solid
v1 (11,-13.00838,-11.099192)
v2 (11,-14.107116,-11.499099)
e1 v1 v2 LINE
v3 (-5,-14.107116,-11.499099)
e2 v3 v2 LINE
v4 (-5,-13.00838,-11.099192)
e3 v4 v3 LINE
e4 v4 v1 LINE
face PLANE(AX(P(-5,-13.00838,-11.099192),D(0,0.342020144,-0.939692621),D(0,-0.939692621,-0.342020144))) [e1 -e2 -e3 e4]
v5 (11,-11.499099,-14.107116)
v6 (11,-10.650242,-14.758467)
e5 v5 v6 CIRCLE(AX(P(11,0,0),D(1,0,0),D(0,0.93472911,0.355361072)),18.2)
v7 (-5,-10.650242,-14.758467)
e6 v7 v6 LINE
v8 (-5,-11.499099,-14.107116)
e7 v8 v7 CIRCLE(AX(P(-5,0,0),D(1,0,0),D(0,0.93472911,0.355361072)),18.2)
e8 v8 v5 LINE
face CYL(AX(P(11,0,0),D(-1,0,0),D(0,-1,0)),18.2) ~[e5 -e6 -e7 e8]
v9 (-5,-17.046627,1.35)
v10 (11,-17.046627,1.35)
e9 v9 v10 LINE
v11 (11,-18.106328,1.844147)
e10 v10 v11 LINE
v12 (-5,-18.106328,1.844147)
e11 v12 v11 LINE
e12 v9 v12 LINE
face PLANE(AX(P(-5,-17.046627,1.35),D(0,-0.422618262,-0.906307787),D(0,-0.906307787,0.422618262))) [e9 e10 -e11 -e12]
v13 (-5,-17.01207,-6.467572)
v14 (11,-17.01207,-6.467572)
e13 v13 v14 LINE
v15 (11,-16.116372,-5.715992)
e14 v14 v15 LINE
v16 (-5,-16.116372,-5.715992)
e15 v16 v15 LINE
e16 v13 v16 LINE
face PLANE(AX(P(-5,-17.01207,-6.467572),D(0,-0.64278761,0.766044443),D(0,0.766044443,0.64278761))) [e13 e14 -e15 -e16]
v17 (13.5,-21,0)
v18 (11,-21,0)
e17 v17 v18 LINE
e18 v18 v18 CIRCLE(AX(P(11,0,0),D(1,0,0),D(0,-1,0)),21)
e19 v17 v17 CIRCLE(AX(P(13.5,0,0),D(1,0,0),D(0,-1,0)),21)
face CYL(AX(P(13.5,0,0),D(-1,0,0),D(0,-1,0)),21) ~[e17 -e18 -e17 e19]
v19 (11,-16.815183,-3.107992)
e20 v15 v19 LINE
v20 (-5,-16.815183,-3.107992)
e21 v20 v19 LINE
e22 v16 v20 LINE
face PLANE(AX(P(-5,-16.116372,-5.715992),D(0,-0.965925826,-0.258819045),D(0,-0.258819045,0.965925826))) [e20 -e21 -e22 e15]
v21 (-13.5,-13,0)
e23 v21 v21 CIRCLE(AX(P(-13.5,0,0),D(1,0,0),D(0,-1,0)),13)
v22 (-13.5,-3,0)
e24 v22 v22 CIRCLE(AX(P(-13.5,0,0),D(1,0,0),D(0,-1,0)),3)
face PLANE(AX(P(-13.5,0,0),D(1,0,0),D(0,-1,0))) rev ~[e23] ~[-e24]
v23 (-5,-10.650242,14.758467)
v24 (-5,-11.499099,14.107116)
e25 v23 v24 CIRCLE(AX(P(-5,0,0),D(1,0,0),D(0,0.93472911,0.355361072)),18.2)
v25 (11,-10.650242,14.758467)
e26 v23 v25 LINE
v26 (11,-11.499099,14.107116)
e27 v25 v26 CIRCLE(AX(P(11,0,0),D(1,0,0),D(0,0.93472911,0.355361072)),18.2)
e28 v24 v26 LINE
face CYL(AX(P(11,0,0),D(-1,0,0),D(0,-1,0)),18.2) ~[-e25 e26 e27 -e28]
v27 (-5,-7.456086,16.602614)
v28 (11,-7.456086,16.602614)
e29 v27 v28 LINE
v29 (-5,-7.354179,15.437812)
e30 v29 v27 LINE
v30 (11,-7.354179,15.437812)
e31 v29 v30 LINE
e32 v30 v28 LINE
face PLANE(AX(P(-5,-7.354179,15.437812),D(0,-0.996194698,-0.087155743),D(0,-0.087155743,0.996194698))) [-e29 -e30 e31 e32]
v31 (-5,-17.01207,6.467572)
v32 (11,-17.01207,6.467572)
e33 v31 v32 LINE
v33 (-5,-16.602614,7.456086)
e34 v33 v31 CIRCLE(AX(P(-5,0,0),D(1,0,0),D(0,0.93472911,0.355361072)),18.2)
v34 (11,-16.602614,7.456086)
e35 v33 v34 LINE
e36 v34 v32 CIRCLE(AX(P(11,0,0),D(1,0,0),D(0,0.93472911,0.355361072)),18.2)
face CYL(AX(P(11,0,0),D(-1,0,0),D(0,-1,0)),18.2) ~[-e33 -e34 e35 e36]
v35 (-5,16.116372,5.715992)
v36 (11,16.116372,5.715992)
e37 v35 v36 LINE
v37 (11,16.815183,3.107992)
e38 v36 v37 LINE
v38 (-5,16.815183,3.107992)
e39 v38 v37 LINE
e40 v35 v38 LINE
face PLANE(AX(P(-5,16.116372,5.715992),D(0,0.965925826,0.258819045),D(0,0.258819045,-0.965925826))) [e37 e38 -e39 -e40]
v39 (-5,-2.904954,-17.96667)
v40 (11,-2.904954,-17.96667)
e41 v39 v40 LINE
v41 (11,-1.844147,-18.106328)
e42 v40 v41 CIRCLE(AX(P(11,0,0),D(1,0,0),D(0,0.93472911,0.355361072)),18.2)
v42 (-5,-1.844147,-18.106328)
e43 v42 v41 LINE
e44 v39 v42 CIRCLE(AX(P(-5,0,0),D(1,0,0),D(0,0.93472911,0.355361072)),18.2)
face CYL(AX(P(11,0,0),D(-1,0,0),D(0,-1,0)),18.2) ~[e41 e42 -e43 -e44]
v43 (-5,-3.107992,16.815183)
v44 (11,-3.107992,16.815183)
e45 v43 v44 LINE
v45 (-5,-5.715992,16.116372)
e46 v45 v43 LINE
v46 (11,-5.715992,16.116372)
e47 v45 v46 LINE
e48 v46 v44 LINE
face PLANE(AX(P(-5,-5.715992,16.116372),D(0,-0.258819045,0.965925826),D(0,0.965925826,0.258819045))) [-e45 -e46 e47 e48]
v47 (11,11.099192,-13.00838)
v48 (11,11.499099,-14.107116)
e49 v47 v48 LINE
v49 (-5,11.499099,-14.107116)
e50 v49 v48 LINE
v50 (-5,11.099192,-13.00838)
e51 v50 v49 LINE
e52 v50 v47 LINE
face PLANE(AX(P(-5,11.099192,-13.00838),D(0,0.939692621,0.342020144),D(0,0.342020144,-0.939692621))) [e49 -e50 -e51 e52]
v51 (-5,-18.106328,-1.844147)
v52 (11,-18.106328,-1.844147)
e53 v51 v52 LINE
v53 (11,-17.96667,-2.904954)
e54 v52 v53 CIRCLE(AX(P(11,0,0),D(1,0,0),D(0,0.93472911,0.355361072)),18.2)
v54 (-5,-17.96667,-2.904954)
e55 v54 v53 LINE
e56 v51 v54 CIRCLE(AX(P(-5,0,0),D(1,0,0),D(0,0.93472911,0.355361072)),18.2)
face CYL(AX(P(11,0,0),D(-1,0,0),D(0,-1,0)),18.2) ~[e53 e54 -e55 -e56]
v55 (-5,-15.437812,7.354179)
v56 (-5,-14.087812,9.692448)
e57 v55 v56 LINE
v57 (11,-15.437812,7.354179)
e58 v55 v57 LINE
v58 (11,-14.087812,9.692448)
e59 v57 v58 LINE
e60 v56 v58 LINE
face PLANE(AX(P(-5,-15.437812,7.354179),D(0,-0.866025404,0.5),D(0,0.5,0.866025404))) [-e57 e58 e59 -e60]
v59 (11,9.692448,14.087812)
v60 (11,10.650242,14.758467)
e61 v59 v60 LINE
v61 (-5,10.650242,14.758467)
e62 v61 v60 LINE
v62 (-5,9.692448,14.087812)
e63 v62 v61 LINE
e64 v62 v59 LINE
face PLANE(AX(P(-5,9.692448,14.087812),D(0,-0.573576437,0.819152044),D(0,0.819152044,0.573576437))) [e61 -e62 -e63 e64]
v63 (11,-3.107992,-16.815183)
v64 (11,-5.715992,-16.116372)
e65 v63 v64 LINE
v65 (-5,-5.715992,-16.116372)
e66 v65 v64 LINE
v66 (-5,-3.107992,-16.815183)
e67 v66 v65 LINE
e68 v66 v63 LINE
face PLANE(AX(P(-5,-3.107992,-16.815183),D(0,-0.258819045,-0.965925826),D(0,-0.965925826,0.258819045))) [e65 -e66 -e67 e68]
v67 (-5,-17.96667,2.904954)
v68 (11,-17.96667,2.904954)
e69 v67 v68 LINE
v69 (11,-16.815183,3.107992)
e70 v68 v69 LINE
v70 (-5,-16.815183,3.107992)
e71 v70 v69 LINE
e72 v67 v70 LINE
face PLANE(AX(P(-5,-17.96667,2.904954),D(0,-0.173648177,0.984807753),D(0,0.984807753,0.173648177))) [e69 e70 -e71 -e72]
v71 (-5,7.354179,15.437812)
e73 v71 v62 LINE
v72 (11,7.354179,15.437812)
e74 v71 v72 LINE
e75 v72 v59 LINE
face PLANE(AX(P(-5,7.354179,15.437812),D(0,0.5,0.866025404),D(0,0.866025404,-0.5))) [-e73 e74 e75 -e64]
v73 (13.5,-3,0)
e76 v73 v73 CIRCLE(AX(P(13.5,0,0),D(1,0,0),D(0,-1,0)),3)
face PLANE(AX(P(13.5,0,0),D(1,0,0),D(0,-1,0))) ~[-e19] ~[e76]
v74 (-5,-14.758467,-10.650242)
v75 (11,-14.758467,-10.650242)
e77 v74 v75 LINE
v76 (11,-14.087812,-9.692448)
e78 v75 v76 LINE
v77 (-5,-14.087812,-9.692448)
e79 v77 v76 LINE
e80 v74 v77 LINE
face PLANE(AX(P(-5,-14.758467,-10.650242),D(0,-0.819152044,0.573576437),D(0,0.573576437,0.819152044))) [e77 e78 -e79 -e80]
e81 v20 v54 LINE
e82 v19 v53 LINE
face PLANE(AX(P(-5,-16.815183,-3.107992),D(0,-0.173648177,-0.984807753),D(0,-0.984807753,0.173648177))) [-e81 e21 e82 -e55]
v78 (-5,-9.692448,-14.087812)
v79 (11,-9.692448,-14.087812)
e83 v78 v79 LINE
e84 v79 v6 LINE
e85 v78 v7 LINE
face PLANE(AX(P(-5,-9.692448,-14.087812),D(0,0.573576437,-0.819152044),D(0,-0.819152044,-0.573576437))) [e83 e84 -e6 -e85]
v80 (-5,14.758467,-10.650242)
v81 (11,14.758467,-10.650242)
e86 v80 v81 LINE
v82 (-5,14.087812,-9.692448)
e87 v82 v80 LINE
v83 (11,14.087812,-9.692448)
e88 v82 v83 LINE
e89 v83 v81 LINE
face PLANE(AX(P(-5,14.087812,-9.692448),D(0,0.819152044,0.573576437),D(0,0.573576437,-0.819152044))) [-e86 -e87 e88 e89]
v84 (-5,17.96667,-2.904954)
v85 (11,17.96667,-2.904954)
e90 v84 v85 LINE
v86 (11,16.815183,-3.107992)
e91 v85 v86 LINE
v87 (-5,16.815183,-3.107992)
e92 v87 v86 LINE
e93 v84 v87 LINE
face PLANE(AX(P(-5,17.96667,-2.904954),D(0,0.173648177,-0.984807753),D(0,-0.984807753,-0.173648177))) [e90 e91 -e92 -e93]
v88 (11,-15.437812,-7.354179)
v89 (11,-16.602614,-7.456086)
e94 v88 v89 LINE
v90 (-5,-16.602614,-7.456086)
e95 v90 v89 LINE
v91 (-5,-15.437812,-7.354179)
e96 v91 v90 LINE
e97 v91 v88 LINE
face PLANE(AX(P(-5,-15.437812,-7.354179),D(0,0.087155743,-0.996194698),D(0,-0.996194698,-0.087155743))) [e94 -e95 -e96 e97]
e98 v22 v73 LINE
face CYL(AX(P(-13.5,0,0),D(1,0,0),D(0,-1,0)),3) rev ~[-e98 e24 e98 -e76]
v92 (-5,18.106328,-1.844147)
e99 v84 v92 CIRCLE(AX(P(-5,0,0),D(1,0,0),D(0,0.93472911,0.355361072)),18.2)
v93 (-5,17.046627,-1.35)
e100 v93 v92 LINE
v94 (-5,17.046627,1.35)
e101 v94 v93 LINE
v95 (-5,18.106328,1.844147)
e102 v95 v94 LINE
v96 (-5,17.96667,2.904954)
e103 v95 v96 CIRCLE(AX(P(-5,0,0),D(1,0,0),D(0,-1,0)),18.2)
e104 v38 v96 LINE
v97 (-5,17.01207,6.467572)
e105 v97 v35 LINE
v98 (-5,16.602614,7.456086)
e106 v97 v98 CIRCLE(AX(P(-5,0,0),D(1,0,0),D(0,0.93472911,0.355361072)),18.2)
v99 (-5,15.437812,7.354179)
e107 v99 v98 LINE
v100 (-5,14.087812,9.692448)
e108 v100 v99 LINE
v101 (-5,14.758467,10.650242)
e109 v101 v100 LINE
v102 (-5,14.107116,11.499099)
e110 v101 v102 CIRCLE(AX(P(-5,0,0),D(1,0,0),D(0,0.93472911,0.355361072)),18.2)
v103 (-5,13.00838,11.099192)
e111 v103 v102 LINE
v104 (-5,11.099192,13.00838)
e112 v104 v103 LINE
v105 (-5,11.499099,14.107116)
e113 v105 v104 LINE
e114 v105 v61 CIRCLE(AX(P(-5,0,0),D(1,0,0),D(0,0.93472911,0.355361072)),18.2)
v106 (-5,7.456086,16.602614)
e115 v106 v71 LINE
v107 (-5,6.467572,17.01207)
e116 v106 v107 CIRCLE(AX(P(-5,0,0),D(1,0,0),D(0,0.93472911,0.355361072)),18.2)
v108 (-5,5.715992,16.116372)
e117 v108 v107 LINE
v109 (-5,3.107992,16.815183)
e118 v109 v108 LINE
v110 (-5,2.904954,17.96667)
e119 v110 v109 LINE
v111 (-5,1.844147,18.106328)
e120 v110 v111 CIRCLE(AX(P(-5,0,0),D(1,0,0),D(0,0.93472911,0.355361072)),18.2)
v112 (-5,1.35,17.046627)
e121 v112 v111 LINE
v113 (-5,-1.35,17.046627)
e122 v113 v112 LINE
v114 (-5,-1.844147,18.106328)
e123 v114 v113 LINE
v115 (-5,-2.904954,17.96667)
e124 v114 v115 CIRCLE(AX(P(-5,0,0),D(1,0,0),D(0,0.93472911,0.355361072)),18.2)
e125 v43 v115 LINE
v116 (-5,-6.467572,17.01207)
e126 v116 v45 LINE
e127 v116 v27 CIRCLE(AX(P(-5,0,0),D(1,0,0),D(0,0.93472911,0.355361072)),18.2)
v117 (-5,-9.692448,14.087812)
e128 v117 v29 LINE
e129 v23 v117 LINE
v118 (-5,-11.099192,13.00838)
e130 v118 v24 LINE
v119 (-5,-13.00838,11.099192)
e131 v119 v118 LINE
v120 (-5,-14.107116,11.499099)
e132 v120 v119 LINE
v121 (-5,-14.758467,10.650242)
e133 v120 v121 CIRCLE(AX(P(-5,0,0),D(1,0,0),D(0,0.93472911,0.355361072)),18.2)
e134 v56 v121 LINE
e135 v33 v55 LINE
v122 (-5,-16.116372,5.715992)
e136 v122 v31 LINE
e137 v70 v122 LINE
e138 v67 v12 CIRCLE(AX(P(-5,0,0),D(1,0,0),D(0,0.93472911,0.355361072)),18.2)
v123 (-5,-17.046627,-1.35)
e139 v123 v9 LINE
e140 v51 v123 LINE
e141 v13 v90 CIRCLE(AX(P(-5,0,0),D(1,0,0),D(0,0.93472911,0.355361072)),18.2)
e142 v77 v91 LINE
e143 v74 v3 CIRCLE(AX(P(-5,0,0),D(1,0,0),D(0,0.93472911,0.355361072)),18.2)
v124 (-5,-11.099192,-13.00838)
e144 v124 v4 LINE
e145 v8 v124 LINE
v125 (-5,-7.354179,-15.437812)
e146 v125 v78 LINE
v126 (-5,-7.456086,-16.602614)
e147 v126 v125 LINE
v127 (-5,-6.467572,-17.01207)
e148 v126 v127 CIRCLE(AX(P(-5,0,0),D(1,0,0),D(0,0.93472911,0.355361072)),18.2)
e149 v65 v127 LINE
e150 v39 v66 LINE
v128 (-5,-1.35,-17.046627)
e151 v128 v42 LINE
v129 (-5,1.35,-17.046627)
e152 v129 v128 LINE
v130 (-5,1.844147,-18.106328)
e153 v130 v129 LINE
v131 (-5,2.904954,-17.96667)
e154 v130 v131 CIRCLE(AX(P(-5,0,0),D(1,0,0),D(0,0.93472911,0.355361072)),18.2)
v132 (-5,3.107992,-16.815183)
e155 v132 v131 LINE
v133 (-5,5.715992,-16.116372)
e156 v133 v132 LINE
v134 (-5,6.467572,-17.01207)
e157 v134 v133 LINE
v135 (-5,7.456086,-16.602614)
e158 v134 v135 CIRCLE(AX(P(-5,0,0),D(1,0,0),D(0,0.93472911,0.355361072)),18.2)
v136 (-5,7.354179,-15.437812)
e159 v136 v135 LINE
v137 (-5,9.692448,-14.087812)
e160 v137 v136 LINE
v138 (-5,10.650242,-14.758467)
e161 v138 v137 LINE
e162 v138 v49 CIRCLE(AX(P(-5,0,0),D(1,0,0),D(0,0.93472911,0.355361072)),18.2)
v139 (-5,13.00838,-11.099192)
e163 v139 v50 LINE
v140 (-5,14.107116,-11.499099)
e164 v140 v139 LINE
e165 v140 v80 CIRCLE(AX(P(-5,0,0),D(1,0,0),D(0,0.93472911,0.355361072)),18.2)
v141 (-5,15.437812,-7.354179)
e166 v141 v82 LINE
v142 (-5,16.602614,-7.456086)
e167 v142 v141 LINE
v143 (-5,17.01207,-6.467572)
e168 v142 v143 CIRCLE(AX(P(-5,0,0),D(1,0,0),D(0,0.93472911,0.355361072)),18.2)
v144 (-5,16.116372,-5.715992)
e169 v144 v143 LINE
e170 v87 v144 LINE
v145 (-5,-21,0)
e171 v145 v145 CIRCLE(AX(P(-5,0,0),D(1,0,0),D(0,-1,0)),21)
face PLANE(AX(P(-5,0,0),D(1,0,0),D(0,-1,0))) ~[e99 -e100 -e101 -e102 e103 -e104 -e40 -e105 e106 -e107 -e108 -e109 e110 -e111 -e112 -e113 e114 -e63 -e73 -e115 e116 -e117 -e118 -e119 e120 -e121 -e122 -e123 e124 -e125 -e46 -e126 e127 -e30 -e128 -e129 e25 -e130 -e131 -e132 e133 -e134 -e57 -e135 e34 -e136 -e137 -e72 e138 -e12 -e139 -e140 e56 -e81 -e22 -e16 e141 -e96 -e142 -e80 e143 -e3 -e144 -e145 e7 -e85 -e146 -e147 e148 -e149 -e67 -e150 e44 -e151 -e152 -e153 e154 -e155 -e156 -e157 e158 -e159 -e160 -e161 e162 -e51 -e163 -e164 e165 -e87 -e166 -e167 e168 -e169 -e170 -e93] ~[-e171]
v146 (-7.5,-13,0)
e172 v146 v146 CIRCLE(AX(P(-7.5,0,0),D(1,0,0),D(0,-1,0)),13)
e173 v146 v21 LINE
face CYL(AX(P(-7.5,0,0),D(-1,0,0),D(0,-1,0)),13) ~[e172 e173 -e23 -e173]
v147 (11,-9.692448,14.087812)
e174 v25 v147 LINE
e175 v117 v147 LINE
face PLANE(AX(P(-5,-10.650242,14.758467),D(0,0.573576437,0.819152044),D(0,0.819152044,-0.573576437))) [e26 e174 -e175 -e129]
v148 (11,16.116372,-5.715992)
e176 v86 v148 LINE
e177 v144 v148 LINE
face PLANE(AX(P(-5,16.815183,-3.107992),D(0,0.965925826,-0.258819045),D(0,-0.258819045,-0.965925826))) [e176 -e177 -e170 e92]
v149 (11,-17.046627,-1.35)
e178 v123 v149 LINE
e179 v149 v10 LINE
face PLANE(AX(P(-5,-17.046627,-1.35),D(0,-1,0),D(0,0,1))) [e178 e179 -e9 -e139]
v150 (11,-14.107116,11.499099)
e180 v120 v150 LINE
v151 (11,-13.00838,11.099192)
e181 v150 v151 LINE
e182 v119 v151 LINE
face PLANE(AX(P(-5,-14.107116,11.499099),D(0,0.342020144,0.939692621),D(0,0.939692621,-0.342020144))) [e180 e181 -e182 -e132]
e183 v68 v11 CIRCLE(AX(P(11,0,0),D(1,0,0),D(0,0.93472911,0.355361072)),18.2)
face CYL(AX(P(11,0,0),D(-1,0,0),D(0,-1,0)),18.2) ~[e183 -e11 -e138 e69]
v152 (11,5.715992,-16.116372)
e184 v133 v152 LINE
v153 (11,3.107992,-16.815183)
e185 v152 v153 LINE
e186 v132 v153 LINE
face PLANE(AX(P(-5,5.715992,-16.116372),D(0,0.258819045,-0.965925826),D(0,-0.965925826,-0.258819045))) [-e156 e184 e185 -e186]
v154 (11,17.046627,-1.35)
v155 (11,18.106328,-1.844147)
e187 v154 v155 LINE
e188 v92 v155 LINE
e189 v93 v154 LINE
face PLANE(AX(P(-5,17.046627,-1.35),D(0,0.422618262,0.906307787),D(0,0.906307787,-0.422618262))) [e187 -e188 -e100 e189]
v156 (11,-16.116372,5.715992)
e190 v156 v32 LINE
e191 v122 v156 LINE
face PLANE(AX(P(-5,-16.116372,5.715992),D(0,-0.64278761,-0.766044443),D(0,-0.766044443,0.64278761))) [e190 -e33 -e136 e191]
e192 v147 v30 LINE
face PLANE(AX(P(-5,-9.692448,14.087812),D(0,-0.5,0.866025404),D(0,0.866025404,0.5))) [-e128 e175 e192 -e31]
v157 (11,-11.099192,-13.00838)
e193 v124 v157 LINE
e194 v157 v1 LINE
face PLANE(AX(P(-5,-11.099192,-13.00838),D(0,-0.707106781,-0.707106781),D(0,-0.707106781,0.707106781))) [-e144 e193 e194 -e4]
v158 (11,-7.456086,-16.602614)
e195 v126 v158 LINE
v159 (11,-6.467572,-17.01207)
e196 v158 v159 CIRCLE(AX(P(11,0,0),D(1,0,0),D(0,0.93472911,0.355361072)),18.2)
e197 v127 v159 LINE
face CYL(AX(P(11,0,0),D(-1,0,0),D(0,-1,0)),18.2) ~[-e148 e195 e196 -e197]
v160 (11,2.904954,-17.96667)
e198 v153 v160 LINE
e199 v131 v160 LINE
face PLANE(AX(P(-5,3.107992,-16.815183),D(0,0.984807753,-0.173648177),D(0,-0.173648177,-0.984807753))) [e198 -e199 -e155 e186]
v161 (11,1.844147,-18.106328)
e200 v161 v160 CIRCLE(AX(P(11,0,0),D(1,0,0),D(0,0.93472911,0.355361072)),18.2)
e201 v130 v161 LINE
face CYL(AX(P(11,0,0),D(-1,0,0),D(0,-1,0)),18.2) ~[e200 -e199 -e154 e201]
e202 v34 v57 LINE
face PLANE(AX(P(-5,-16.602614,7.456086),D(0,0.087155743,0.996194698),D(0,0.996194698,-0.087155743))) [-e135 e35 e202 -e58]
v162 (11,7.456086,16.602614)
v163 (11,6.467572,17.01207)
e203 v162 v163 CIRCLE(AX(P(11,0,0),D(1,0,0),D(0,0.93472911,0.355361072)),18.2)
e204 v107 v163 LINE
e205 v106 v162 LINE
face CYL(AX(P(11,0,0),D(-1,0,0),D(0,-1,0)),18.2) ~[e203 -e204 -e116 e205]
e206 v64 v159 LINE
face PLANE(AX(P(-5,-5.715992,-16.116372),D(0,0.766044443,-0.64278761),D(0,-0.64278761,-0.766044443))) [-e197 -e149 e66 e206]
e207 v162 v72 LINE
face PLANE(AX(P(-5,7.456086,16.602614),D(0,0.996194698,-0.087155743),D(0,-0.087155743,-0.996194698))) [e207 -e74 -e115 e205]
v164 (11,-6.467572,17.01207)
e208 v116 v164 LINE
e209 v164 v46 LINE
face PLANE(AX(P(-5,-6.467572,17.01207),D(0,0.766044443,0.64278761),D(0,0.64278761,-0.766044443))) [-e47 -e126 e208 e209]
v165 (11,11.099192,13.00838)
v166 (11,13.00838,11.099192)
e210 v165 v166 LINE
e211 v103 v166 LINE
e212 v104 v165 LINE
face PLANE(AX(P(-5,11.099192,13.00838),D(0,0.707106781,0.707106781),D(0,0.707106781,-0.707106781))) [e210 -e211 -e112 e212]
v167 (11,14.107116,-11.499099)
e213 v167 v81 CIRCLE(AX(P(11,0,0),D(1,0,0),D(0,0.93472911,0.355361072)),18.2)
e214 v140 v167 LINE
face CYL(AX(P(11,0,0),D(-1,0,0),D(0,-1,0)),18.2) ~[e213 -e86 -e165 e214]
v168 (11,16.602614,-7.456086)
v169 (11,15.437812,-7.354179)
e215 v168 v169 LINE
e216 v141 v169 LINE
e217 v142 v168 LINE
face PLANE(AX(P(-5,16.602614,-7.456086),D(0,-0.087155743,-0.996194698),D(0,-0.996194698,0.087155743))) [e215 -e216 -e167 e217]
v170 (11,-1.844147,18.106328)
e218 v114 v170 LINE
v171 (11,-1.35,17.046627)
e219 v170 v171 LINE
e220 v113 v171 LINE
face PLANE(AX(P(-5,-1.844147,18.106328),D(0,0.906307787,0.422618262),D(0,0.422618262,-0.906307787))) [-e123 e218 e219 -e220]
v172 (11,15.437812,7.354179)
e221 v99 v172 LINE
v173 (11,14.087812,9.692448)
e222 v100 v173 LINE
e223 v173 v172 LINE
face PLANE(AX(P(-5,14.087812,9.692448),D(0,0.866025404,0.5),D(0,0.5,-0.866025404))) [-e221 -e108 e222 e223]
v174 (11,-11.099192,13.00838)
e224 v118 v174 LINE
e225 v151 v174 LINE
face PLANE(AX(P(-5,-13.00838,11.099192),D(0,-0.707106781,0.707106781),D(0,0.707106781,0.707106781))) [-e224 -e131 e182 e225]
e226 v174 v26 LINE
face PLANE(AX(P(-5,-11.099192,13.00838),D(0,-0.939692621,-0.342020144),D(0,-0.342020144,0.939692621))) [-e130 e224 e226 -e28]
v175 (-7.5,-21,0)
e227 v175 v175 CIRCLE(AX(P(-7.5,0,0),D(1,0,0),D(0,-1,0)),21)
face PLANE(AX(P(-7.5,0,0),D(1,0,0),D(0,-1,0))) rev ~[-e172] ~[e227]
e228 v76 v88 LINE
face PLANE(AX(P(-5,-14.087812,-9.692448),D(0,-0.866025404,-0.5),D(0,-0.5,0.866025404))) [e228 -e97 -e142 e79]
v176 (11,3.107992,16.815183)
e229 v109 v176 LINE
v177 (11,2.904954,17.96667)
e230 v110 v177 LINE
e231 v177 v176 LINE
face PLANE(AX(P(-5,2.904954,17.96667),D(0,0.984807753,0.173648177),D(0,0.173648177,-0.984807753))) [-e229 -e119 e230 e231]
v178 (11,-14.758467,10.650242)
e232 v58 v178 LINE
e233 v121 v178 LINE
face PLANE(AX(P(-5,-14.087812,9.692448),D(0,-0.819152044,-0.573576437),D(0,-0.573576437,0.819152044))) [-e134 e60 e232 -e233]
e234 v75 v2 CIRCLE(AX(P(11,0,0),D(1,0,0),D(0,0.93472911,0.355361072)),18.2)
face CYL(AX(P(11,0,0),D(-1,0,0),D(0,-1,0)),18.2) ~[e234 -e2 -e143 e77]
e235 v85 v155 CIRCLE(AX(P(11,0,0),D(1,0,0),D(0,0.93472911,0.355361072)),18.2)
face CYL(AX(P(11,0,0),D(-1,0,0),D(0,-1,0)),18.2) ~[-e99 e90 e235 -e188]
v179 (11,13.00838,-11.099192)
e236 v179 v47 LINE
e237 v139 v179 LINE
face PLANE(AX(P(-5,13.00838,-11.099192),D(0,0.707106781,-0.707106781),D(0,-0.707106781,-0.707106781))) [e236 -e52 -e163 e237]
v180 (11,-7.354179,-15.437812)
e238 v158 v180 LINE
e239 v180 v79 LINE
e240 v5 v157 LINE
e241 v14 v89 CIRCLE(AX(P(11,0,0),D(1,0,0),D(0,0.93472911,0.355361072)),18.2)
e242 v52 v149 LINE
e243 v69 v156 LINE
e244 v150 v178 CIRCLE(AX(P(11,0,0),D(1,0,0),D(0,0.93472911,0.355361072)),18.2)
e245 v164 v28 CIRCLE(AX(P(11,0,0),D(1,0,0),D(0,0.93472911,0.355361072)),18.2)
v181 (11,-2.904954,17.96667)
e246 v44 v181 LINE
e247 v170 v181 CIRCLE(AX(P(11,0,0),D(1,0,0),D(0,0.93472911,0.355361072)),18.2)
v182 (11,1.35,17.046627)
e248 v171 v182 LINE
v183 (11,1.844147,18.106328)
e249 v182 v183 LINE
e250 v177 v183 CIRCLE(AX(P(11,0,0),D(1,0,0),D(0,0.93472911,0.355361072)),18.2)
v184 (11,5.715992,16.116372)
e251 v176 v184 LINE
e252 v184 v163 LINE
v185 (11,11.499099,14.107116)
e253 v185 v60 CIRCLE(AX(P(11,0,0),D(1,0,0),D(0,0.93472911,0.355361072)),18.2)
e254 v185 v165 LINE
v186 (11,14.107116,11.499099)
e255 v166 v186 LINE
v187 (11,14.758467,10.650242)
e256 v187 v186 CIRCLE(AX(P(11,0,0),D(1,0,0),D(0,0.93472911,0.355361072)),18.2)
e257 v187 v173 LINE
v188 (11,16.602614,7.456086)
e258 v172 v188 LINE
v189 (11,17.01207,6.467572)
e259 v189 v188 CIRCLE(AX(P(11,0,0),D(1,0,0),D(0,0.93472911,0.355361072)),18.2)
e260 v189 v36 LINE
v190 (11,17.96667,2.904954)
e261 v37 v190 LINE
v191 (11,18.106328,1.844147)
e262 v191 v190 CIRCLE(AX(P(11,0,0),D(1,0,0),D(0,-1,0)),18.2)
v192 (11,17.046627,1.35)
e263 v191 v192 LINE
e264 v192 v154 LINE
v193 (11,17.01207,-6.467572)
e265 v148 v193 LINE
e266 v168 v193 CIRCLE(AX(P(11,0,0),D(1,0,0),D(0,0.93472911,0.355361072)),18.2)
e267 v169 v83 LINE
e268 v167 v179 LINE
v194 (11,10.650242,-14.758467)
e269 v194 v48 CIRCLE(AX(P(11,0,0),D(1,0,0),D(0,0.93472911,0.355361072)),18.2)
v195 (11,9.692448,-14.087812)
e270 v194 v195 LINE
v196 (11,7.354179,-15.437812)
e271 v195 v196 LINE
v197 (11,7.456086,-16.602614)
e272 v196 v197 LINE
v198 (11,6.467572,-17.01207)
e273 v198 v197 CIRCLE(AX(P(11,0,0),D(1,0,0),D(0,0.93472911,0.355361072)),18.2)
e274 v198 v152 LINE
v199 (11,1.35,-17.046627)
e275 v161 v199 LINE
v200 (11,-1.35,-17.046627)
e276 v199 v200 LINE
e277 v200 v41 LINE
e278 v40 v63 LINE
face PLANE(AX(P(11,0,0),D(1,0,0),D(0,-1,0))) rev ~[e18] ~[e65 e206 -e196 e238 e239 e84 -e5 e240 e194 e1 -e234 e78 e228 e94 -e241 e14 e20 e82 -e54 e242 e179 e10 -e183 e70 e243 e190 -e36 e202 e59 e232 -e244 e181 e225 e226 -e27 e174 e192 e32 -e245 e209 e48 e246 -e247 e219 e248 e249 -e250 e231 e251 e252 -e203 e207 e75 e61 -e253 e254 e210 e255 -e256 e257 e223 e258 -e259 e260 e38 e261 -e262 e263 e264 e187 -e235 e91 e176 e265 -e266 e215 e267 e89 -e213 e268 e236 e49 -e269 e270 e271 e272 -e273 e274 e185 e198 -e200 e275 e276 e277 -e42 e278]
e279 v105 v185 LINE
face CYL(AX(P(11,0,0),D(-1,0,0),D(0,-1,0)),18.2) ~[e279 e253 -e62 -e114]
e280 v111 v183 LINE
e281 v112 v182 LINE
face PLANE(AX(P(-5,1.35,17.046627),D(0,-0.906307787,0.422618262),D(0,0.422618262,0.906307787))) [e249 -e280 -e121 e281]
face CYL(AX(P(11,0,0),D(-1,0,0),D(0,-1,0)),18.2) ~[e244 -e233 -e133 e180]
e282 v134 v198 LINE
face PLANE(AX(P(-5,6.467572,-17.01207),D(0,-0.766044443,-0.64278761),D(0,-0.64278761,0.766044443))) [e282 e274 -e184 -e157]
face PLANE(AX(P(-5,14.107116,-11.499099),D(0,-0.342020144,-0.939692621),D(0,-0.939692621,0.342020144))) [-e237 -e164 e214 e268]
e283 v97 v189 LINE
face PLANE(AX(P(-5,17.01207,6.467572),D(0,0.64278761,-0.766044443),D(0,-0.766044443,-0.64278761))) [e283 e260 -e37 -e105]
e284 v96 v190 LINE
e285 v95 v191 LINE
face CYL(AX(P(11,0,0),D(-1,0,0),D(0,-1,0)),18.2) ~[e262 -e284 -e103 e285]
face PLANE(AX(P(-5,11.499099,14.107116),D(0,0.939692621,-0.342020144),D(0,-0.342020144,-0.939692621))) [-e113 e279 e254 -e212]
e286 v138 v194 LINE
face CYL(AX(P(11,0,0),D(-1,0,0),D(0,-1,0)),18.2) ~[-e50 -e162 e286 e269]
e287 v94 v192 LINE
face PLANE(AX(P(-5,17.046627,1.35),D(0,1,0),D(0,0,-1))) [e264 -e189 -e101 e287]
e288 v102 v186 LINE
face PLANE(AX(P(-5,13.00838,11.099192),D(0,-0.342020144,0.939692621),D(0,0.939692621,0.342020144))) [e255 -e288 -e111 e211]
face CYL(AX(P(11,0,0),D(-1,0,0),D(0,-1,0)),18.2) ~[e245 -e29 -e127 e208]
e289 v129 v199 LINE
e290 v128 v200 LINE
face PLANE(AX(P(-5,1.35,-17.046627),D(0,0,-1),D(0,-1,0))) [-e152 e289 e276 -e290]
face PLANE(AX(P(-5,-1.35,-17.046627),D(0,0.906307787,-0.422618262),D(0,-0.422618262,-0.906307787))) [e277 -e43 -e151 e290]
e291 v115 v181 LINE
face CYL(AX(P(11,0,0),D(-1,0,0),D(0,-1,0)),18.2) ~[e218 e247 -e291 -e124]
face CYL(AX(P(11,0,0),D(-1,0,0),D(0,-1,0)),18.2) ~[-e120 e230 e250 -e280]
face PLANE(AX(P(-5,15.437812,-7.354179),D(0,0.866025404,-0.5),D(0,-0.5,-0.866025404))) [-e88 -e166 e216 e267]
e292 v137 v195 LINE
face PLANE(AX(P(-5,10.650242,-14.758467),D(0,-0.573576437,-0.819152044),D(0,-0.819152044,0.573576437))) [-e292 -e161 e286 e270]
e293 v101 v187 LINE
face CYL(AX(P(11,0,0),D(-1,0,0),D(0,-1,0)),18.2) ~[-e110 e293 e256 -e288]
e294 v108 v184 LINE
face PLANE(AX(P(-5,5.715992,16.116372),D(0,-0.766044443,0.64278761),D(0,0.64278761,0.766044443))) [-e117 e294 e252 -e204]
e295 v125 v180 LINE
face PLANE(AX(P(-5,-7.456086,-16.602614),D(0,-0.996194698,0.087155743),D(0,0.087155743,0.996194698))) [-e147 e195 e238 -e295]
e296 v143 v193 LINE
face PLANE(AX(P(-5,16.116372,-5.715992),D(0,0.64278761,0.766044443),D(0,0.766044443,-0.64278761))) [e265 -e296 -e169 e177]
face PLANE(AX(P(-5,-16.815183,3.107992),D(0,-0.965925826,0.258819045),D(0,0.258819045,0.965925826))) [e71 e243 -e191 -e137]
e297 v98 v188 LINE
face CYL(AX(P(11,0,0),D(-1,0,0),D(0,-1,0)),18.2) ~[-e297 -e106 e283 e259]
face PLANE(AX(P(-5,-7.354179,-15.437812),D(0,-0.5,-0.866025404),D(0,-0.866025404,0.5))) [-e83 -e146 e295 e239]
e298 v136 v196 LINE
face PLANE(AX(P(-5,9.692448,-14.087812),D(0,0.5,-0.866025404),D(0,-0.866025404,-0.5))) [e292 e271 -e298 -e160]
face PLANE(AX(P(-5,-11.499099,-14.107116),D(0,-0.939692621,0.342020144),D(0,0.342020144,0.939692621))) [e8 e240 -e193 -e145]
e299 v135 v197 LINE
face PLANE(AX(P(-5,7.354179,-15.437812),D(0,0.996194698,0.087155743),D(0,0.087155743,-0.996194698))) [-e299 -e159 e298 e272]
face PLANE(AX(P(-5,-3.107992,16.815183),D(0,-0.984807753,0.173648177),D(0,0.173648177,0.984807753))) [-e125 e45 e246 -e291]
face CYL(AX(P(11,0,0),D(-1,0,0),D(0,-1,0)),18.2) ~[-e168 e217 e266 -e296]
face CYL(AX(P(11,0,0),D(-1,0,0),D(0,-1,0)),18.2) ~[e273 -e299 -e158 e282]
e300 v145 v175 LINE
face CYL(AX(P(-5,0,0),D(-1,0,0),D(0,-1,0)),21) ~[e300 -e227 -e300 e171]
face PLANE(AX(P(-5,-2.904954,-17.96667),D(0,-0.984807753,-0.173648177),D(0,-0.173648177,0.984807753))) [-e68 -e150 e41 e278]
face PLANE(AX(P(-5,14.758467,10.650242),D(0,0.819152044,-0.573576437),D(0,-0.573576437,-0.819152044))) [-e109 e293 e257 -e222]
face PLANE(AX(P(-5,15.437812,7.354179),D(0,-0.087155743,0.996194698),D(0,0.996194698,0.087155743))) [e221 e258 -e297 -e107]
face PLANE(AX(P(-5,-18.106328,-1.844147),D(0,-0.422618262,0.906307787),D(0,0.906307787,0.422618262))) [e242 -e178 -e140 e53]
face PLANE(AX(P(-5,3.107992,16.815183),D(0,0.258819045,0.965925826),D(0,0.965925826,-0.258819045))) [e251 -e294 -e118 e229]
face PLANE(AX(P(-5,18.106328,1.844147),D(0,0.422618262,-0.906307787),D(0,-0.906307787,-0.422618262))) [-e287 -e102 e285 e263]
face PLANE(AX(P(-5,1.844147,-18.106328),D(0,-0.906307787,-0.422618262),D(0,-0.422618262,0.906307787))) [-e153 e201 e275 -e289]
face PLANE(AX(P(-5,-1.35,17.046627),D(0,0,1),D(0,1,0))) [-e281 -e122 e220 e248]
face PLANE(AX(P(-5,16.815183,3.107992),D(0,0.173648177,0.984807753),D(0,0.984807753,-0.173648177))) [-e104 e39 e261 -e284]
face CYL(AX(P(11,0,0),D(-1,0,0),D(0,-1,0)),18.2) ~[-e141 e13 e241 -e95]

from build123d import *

# Parameters (mm, degrees)
CUT_EXTRUDE1_DEPTH = 16
CIRPATTERN1_COUNT  = 24


with BuildPart() as part:
    # Sketch1 → Revolve1 (revolve)
    with BuildSketch(Plane.XY, mode=Mode.PRIVATE) as revolve1_sk:
        Polygon((-13.5, 3), (13.5, 3), (13.5, 21), (11, 21), (11, 18.45), (11, 18.2), (-5, 18.2), (-5, 18.45), (-5, 21), (-7.5, 21), (-7.5, 13), (-13.5, 13), align=None)
    revolve(revolve1_sk.sketch.rotate(Axis((-13.5, 0, 0), (1, 0, 0)), 180), axis=Axis((-13.5, 0, 0), (1, 0, 0)))

    # Sketch3 → Cut-Extrude1 (cut)
    with BuildSketch(Plane(origin=(-5, 0, 0), x_dir=(0, 0, -1), z_dir=(1, 0, 0))):
        with BuildLine():
            Line((-1.844146703, 18.106328257), (-1.35, 17.046627232))
            Line((-1.35, 17.046627232), (1.35, 17.046627232))
            Line((1.35, 17.046627232), (1.844146703, 18.106328257))
            ThreePointArc((1.844146703, 18.106328257), (0, 18.2), (-1.844146703, 18.106328257))
        make_face()
    cut_extrude1 = extrude(amount=CUT_EXTRUDE1_DEPTH, mode=Mode.SUBTRACT)

    # CirPattern1: Cut-Extrude1 ×24 about axis
    cirpattern1_axis = Axis((0, 0, 0), (1, 0, 0))
    for i in range(1, CIRPATTERN1_COUNT):
        add(cut_extrude1.rotate(cirpattern1_axis, i * 360 / CIRPATTERN1_COUNT), mode=Mode.SUBTRACT)


solid = part.part
